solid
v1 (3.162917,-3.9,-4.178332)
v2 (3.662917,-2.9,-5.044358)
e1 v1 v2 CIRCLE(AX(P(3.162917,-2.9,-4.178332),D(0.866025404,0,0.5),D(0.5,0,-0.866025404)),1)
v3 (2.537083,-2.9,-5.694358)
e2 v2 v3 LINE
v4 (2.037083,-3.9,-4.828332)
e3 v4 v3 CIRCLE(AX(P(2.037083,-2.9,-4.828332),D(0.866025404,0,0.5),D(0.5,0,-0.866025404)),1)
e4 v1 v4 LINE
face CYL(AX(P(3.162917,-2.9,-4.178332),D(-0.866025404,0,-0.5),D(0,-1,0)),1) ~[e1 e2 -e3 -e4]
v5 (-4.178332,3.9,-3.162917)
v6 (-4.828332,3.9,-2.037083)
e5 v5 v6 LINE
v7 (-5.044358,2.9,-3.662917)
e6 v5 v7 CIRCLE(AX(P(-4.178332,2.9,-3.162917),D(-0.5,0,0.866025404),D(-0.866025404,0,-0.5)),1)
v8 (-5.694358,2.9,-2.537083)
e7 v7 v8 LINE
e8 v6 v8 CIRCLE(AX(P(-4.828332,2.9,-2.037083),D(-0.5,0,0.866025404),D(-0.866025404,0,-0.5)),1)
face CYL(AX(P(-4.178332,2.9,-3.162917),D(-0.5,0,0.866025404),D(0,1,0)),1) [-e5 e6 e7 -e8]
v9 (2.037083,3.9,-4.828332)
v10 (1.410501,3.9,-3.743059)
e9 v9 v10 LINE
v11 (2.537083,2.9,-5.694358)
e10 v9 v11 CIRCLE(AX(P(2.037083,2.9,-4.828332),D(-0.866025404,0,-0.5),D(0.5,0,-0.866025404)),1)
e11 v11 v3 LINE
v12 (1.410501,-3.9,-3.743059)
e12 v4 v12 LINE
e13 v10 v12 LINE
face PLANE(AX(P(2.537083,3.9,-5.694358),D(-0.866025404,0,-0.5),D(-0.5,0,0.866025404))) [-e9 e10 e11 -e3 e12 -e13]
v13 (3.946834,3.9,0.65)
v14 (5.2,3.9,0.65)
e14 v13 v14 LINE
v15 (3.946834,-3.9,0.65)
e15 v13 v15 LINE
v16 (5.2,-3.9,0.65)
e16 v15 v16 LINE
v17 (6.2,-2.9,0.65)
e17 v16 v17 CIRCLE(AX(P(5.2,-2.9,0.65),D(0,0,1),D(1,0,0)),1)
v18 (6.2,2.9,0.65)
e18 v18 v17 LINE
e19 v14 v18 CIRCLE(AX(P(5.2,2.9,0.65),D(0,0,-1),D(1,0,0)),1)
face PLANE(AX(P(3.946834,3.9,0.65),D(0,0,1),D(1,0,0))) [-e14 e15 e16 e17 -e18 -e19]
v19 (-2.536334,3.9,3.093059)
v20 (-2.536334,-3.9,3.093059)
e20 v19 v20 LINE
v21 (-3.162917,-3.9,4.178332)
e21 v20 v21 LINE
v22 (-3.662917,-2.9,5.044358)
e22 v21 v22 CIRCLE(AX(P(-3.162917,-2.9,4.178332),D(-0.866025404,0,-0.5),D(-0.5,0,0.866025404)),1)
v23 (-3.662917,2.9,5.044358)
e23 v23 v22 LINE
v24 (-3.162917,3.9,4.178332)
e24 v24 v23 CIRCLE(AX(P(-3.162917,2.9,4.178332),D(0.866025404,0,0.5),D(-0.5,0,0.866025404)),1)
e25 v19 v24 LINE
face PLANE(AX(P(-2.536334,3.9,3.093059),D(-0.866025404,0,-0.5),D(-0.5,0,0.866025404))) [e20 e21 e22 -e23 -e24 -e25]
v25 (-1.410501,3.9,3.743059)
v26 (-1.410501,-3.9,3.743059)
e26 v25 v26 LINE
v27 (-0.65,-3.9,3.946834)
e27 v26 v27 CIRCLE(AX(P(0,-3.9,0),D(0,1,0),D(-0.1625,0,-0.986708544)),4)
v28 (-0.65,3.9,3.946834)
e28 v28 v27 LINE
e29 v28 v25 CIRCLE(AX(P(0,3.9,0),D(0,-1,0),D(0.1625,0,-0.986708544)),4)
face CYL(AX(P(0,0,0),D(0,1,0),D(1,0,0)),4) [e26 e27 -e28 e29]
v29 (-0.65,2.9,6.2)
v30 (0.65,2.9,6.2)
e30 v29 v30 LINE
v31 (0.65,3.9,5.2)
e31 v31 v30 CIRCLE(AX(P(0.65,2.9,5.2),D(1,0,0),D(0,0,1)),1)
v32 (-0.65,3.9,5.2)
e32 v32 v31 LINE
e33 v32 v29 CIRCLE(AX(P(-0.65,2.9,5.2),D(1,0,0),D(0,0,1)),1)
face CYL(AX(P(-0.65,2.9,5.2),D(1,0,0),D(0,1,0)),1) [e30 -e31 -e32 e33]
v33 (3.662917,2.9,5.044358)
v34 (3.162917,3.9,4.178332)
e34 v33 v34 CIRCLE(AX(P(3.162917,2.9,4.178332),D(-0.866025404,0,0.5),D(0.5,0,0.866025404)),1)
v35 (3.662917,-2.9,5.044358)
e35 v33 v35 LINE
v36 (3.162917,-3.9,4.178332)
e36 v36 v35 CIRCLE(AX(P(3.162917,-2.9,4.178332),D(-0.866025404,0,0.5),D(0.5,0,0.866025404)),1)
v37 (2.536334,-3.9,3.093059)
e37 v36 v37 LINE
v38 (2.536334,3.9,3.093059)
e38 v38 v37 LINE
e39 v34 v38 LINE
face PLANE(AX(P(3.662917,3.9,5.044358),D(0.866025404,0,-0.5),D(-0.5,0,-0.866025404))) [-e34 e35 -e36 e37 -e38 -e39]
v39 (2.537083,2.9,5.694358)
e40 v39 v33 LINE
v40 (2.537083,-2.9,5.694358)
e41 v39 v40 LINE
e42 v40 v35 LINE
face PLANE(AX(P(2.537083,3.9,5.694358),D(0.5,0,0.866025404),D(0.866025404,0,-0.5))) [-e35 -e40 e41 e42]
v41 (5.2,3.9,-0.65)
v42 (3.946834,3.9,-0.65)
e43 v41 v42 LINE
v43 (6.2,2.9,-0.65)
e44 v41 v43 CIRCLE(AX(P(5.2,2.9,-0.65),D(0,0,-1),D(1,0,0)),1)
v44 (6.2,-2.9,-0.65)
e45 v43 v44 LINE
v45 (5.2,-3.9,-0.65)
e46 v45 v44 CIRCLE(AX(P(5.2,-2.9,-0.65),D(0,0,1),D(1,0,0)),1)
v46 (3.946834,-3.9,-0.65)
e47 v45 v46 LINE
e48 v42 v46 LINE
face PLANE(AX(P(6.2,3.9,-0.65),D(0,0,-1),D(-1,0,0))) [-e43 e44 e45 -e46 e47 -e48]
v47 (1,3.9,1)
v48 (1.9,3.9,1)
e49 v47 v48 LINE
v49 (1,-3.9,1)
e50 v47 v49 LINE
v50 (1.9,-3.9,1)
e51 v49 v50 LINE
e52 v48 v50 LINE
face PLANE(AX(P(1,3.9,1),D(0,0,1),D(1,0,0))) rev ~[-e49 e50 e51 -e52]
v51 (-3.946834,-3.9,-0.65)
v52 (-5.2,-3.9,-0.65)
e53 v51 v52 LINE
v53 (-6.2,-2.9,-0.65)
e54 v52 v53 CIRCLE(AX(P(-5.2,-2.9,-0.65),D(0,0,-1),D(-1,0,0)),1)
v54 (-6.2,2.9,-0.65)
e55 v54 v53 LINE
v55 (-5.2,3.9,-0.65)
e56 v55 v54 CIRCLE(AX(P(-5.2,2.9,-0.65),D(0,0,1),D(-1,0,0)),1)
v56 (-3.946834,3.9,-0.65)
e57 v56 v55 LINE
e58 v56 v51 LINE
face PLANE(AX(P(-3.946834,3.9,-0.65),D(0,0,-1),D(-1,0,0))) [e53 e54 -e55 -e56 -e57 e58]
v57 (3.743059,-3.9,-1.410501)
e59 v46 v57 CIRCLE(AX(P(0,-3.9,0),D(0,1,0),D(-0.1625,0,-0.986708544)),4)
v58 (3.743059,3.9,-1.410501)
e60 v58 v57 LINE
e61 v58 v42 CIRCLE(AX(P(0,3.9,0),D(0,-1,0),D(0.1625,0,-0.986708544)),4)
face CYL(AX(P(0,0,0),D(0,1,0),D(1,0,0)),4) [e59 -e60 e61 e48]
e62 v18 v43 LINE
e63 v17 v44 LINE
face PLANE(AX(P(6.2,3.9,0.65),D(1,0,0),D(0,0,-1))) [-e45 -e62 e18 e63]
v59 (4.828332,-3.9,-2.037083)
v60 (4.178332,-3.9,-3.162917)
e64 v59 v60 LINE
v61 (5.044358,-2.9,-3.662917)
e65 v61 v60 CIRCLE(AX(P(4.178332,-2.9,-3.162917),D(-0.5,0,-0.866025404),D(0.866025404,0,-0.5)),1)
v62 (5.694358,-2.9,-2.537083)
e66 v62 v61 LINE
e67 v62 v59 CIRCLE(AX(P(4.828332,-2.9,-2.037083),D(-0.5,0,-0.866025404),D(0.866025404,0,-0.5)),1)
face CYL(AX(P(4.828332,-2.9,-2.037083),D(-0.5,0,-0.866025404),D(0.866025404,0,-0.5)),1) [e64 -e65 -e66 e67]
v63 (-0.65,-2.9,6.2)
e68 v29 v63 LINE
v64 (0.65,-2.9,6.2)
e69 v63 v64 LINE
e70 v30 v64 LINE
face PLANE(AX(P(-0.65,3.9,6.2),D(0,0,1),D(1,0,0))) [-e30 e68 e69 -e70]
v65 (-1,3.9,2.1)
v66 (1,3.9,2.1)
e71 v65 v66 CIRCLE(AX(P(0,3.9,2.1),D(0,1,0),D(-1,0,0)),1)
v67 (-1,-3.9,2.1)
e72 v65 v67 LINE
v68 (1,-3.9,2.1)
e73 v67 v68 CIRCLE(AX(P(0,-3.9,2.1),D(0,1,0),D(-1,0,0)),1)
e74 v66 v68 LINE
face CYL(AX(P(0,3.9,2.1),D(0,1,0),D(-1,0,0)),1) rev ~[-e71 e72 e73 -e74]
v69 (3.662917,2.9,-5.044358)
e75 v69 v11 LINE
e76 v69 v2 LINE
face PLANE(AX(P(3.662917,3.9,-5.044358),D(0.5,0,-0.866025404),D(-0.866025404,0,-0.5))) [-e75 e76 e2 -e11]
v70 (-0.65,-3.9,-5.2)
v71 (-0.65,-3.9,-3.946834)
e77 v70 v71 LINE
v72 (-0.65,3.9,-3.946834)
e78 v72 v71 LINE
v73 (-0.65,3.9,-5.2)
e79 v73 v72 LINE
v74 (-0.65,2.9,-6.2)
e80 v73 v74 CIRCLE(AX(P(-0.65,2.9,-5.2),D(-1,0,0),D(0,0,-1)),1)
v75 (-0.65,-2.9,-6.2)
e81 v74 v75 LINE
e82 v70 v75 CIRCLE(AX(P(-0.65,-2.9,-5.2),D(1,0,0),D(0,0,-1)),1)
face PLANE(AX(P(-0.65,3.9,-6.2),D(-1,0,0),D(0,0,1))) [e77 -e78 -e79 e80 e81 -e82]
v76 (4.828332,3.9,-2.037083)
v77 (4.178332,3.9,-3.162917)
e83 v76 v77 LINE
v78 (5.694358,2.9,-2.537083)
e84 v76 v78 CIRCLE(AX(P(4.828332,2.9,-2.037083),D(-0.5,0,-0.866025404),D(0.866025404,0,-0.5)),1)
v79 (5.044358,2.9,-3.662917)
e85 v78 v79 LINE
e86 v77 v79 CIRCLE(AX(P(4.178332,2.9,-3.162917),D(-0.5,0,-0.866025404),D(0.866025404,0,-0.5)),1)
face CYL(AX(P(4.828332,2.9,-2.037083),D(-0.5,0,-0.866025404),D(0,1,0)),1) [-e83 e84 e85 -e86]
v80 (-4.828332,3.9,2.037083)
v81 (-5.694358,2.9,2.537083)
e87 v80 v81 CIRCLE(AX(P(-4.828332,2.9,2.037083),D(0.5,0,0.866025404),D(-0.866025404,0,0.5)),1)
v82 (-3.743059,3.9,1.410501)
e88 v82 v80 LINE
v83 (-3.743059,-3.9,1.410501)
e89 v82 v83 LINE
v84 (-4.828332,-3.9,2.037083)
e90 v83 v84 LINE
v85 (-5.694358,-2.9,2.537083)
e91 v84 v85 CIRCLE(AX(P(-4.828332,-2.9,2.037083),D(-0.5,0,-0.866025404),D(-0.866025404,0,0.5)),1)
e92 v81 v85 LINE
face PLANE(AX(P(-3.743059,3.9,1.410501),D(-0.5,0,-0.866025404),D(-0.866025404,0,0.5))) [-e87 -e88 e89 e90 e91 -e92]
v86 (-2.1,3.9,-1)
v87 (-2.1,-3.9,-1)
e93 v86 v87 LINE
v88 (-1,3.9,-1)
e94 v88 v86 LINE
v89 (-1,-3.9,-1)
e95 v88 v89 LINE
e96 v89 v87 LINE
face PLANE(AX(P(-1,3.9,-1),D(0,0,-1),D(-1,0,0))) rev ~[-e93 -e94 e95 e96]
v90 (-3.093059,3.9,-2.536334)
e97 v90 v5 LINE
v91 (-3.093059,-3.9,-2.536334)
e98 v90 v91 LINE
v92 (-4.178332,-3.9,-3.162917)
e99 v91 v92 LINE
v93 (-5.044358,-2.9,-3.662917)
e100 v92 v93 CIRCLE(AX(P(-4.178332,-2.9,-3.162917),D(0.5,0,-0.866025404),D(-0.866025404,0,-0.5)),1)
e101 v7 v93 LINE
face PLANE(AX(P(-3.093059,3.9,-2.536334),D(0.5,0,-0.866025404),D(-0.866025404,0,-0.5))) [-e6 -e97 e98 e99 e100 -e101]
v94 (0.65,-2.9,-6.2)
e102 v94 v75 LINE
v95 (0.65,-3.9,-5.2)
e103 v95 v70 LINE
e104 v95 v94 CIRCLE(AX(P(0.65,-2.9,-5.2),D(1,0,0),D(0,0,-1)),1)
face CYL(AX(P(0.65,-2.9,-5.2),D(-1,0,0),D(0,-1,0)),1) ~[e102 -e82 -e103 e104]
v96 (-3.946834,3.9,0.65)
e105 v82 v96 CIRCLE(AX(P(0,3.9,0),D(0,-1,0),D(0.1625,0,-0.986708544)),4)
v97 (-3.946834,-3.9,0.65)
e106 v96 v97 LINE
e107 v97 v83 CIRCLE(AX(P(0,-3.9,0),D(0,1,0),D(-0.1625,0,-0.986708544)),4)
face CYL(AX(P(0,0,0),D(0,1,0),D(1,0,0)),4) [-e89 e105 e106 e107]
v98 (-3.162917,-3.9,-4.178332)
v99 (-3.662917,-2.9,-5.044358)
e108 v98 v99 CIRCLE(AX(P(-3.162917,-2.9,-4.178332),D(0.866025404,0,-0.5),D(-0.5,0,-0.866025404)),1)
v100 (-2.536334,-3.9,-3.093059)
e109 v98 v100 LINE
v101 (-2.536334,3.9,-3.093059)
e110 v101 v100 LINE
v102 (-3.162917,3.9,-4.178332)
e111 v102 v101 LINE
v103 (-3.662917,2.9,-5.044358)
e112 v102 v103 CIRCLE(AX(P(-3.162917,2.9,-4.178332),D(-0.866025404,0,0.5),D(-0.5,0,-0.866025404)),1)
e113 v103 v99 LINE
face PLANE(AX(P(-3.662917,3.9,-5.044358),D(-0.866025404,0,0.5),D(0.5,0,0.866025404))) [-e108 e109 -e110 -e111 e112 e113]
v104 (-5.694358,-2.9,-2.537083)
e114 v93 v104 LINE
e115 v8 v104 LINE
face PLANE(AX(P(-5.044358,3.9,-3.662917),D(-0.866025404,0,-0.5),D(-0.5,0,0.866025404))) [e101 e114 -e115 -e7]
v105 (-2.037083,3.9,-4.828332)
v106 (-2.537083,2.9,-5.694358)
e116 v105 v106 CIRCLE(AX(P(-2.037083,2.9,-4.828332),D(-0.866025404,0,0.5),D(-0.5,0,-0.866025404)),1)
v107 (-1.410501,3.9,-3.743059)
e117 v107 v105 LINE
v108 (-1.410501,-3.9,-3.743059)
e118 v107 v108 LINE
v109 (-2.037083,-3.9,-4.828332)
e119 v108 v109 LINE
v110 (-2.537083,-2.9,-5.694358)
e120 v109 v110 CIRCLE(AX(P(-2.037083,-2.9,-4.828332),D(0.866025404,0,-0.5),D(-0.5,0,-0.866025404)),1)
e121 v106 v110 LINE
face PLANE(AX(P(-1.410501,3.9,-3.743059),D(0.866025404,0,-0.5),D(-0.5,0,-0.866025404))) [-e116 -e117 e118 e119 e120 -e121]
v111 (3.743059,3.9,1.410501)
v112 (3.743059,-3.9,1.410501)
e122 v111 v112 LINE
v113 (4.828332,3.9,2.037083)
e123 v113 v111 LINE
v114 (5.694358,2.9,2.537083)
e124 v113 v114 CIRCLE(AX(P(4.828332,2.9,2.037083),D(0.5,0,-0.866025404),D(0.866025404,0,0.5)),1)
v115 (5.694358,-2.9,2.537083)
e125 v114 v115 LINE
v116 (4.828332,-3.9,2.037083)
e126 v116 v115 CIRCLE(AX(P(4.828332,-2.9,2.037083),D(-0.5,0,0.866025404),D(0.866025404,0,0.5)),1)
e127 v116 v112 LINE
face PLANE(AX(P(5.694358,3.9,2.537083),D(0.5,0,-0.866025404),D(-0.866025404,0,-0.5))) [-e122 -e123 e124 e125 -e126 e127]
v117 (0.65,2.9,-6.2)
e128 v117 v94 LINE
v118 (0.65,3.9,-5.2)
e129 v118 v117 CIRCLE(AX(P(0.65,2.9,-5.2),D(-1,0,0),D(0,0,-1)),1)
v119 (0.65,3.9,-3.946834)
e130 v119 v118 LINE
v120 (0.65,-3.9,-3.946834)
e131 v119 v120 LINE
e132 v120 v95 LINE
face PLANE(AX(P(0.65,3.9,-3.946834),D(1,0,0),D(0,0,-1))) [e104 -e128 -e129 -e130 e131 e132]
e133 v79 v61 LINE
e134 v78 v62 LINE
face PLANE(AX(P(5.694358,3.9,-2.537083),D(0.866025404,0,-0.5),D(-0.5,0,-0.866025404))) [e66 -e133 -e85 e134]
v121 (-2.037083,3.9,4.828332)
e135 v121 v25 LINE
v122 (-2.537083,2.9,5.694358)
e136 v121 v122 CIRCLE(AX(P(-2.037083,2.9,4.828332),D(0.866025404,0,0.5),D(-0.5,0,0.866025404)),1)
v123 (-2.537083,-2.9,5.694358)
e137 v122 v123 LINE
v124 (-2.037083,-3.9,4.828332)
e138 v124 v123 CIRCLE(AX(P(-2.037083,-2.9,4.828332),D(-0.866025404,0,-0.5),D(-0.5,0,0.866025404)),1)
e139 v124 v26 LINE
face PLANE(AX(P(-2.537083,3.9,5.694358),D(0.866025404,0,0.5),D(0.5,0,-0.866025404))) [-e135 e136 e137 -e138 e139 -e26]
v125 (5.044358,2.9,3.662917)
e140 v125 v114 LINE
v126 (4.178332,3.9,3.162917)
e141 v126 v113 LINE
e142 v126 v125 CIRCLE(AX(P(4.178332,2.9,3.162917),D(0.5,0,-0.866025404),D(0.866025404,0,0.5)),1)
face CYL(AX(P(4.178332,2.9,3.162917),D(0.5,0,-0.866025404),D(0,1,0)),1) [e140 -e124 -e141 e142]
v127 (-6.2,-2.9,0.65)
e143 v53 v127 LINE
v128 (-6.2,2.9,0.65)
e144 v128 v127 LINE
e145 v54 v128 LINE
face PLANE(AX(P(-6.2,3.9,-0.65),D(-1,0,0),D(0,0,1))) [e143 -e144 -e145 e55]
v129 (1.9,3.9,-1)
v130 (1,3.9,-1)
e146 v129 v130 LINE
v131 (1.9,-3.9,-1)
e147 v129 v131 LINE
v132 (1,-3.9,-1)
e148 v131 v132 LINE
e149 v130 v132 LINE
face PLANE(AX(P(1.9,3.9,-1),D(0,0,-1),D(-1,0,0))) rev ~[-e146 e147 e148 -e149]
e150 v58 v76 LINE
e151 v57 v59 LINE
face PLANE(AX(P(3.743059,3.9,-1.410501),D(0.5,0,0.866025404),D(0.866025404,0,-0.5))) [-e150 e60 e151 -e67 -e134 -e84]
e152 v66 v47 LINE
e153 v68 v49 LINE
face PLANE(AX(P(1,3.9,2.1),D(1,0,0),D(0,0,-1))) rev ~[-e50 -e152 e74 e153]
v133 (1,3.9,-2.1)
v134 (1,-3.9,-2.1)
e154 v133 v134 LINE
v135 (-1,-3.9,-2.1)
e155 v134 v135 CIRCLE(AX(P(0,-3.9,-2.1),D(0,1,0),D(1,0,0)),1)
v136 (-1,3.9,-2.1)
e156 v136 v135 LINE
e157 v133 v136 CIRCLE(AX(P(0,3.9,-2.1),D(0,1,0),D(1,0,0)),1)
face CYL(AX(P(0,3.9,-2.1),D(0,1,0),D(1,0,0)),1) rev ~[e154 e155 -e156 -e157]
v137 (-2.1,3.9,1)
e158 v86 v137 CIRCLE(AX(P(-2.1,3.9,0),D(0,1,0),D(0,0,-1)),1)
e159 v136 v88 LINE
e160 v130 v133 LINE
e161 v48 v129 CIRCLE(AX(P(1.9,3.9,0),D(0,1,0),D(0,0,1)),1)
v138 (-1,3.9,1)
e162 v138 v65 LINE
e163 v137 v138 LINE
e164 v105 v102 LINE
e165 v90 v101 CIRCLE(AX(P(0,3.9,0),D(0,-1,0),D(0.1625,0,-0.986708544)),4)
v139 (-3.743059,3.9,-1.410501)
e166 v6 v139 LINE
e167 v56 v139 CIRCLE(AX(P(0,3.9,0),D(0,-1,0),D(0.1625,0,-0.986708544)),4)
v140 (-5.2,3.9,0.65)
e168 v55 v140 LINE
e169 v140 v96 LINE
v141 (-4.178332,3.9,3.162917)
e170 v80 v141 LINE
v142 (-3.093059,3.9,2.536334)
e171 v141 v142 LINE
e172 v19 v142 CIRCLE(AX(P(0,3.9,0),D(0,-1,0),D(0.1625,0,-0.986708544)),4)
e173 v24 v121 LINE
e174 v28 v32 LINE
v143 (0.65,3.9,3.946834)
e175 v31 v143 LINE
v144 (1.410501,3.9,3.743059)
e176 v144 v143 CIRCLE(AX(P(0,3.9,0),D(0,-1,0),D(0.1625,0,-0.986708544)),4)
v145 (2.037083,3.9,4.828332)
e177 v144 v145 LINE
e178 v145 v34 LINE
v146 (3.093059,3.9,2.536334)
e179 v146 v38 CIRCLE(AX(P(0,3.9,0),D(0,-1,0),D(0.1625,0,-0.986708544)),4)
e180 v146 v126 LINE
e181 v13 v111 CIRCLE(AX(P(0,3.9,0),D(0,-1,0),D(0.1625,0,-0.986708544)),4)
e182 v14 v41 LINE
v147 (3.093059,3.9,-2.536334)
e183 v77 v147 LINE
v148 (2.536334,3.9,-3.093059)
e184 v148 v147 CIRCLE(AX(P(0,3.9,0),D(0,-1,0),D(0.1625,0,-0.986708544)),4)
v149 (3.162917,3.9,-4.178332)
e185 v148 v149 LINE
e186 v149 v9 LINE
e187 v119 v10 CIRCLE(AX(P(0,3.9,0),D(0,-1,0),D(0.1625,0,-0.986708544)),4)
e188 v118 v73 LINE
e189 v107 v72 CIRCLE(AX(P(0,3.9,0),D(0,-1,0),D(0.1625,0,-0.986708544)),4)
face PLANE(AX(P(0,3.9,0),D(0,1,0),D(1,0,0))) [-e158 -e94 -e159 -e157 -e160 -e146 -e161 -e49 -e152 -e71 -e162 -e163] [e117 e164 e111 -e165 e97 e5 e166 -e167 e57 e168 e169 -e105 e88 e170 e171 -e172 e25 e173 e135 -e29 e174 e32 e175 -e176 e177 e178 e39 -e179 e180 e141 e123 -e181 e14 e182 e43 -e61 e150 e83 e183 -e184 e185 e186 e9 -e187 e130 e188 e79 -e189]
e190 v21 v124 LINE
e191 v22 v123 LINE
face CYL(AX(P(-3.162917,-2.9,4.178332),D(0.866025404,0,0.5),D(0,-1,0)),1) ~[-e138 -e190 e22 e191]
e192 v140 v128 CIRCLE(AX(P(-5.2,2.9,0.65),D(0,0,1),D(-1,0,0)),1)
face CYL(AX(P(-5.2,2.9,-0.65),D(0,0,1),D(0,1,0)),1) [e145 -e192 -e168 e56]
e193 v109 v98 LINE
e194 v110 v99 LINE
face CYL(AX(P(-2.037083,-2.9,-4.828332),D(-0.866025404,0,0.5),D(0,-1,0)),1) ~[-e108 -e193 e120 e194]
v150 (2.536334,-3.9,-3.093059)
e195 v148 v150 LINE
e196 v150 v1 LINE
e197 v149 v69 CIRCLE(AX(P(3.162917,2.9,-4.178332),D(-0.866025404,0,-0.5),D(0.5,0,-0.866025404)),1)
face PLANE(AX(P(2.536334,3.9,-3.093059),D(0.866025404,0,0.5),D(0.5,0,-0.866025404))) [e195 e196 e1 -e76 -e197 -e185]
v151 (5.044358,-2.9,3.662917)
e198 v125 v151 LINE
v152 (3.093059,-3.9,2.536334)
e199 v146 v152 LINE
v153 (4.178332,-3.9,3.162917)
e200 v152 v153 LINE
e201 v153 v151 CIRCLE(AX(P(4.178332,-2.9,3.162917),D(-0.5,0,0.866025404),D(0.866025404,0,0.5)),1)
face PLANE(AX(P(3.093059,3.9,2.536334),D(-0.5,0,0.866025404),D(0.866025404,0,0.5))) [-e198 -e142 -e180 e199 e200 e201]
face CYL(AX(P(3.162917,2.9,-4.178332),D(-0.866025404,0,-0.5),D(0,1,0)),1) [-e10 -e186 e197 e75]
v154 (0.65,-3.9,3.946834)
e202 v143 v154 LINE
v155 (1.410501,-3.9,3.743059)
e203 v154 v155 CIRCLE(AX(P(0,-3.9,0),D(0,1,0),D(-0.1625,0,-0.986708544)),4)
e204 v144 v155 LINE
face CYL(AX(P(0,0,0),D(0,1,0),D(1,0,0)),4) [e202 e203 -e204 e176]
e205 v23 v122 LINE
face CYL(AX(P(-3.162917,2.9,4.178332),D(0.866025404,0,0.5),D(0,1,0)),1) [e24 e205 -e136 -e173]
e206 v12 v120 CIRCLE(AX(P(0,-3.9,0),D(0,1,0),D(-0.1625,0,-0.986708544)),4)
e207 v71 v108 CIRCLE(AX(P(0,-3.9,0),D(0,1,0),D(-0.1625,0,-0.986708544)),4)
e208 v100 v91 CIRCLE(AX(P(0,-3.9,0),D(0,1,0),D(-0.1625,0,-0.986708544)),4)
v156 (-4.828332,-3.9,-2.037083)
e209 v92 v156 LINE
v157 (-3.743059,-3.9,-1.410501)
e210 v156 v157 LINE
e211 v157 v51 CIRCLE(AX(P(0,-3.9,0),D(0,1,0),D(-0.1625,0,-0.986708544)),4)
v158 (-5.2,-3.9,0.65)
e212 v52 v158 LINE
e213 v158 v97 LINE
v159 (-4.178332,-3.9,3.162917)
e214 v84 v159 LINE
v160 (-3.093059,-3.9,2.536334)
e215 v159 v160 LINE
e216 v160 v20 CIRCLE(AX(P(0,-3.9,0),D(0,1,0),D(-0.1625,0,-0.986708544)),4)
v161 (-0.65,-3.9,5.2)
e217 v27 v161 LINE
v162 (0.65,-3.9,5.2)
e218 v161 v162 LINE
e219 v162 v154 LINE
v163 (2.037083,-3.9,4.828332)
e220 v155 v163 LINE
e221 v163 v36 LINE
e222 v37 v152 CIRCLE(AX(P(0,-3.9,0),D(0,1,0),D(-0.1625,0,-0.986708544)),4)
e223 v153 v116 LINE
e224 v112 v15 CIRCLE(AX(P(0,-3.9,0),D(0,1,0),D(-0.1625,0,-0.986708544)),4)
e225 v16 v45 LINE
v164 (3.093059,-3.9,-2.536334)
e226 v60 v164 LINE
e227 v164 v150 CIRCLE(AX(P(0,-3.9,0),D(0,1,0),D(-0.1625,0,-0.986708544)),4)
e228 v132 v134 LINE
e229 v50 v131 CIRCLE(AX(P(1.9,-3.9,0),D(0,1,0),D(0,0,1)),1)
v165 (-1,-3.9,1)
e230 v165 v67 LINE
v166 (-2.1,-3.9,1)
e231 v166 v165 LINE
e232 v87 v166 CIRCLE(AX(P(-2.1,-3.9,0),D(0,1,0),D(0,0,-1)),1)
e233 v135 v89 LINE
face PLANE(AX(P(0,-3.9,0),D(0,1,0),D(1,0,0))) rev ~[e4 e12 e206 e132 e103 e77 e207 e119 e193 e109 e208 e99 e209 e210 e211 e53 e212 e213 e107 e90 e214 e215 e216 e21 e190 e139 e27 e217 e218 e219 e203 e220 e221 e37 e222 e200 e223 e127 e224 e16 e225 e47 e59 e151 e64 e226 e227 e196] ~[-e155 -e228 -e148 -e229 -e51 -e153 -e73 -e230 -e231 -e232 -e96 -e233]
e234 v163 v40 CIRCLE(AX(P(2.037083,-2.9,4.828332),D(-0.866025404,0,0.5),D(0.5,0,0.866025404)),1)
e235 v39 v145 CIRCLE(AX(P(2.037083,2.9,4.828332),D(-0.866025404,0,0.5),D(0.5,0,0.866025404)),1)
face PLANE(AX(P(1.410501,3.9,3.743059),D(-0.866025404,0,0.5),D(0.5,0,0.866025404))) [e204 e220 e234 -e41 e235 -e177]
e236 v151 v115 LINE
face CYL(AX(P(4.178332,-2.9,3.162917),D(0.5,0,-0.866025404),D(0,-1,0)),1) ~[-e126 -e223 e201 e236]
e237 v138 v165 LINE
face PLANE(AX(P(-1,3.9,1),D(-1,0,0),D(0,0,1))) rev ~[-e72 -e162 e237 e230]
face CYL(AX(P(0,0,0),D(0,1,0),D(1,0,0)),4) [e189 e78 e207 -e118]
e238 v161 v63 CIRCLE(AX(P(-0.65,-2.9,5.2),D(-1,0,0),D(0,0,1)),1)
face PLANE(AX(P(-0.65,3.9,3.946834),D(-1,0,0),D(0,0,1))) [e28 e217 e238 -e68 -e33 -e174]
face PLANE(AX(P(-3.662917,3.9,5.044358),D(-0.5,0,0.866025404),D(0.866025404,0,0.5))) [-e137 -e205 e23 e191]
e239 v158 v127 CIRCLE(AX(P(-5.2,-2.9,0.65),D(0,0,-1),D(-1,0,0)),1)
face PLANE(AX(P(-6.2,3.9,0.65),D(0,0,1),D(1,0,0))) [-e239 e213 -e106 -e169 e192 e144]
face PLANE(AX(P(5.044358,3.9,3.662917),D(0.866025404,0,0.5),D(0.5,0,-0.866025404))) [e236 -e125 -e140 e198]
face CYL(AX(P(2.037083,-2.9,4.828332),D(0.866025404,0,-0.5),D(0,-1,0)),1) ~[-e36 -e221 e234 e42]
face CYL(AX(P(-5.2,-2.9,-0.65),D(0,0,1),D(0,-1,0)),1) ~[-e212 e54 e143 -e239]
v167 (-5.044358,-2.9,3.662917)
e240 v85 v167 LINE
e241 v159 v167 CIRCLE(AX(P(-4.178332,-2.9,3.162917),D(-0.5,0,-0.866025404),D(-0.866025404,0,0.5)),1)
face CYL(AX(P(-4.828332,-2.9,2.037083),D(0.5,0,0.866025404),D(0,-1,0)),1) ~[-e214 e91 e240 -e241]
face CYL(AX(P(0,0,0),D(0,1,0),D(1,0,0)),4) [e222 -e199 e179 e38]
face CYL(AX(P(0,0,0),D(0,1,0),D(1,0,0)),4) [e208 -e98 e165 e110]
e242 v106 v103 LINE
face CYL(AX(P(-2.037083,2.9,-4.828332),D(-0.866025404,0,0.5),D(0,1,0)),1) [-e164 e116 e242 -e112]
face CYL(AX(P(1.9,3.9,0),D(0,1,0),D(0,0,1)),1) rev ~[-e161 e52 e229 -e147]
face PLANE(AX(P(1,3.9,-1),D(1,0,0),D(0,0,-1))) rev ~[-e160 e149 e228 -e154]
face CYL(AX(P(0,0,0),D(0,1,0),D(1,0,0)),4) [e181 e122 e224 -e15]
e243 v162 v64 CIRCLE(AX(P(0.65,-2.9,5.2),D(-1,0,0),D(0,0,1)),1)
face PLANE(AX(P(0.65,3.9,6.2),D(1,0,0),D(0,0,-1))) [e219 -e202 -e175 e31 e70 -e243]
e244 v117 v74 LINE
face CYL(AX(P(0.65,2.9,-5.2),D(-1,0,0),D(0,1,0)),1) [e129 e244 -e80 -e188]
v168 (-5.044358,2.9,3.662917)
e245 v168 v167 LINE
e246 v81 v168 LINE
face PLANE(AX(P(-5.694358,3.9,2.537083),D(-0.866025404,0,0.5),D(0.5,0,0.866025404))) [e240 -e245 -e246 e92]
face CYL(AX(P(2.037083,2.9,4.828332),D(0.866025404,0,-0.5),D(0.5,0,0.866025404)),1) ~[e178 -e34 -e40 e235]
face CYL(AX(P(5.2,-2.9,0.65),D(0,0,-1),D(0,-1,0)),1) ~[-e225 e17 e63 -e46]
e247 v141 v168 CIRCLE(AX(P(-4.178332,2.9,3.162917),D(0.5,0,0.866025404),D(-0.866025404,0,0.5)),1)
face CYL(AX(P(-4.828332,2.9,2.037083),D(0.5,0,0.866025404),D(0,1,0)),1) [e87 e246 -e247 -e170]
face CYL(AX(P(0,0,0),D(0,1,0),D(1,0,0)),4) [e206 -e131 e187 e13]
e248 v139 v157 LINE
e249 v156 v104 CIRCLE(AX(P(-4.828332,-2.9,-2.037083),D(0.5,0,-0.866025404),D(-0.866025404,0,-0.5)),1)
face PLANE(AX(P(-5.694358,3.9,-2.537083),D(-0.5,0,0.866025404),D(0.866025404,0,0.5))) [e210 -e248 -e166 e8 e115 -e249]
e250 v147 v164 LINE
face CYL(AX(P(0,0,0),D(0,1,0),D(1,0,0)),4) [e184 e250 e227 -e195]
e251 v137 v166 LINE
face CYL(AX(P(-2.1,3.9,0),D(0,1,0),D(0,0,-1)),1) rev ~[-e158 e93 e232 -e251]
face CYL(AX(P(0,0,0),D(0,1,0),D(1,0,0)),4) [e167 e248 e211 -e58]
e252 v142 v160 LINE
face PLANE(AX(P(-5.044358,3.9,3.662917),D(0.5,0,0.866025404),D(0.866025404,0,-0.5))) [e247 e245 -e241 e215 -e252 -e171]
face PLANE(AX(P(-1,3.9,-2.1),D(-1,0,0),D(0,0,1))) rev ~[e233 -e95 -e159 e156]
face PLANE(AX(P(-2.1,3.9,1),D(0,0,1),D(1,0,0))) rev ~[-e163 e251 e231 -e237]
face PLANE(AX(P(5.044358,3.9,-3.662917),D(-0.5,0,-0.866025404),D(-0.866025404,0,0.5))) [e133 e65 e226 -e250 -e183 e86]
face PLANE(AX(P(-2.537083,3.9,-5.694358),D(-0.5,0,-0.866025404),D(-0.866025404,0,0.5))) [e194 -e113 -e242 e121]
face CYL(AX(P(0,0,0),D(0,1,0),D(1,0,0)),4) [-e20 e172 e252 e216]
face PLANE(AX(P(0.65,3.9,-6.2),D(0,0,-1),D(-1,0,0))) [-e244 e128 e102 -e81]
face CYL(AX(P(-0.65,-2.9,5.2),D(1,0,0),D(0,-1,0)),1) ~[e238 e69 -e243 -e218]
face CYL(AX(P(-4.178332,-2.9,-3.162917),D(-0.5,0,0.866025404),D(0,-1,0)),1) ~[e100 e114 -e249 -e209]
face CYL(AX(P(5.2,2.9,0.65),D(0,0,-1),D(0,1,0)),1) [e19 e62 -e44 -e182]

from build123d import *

# Parameters (mm, degrees)
SKETCH1_R           = 4
BOSS_EXTRUDE1_DEPTH = 3.9
BOSS_EXTRUDE2_DEPTH = 7.8
CIRPATTERN1_COUNT   = 12
SKETCH7_W           = 2
SKETCH7_H           = 2
CUT_EXTRUDE2_DEPTH  = 8.8
FILLET4_R           = 1
FILLET5_R           = 1
FILLET6_R           = 1
FILLET7_R           = 1
FILLET8_R           = 1
FILLET9_R           = 1
FILLET10_R          = 1
FILLET11_R          = 1
FILLET12_R          = 1
FILLET13_R          = 1
FILLET14_R          = 1
FILLET15_R          = 1
FILLET16_R          = 1
FILLET17_R          = 1
FILLET18_R          = 1
FILLET19_R          = 1
FILLET20_R          = 1
FILLET21_R          = 1
FILLET22_R          = 1
FILLET23_R          = 1
FILLET24_R          = 1
FILLET25_R          = 1
FILLET26_R          = 1
FILLET27_R          = 1


with BuildPart() as part:
    # Sketch1 → Boss-Extrude1 (new body, symmetric)
    with BuildSketch(Plane(origin=(0, 0, 0), x_dir=(1, 0, 0), z_dir=(0, 1, 0))):
        Circle(SKETCH1_R)
    extrude(amount=BOSS_EXTRUDE1_DEPTH, both=True)

    # Sketch5 → Boss-Extrude2 (add)
    with BuildSketch(Plane(origin=(0, 3.9, 0), x_dir=(1, 0, 0), z_dir=(0, 1, 0))):
        with BuildLine():
            ThreePointArc((-0.65, 3.946834174), (-0.326085344, 3.986686387), (0, 4))
            Line((0, 4), (0, 6.2))
            Line((0, 6.2), (-0.65, 6.2))
            Line((-0.65, 6.2), (-0.65, 3.946834174))
        make_face()
        with BuildLine():
            Line((0, 6.2), (0, 4))
            ThreePointArc((0, 4), (0.326085344, 3.986686387), (0.65, 3.946834174))
            Line((0.65, 3.946834174), (0.65, 6.2))
            Line((0.65, 6.2), (0, 6.2))
        make_face()
    boss_extrude2 = extrude(amount=-BOSS_EXTRUDE2_DEPTH)

    # CirPattern1: Boss-Extrude2 ×12 about axis
    cirpattern1_axis = Axis((0, 0, 0), (0, 1, 0))
    for i in range(1, CIRPATTERN1_COUNT):
        add(boss_extrude2.rotate(cirpattern1_axis, i * 360 / CIRPATTERN1_COUNT))

    # Sketch7 → Cut-Extrude2 (cut, through all)
    with BuildSketch(Plane(origin=(0, 3.9, 0), x_dir=(1, 0, 0), z_dir=(0, 1, 0))):
        with BuildLine():
            Line((1, 1), (1, 2.1))
            ThreePointArc((1, 2.1), (0, 3.1), (-1, 2.1))
            Line((-1, 2.1), (-1, 1))
            Line((-1, 1), (1, 1))
        make_face()
        Rectangle(SKETCH7_W, SKETCH7_H)
        with BuildLine():
            Line((1.9, 1), (1, 1))
            Line((1, 1), (1, -1))
            Line((1, -1), (1.9, -1))
            ThreePointArc((1.9, -1), (2.9, 0), (1.9, 1))
        make_face()
        with BuildLine():
            Line((1, -2.1), (1, -1))
            Line((1, -1), (-1, -1))
            Line((-1, -1), (-1, -2.1))
            ThreePointArc((-1, -2.1), (0, -3.1), (1, -2.1))
        make_face()
        with BuildLine():
            Line((-1, -1), (-1, 1))
            Line((-1, 1), (-2.1, 1))
            ThreePointArc((-2.1, 1), (-3.1, 0), (-2.1, -1))
            Line((-2.1, -1), (-1, -1))
        make_face()
    extrude(amount=-CUT_EXTRUDE2_DEPTH, mode=Mode.SUBTRACT)

    # Fillet4
    fillet4_edges = [part.edges().sort_by_distance(p)[0] for p in [
        (3.1, 3.9, -5.369357503),
    ]]
    fillet(fillet4_edges, radius=FILLET4_R)

    # Fillet5
    fillet5_edges = [part.edges().sort_by_distance(p)[0] for p in [
        (5.369357503, 3.9, 3.1),
    ]]
    fillet(fillet5_edges, radius=FILLET5_R)

    # Fillet6
    fillet6_edges = [part.edges().sort_by_distance(p)[0] for p in [
        (6.2, 3.9, 0),
    ]]
    fillet(fillet6_edges, radius=FILLET6_R)

    # Fillet7
    fillet7_edges = [part.edges().sort_by_distance(p)[0] for p in [
        (5.369357503, -3.9, -3.1),
    ]]
    fillet(fillet7_edges, radius=FILLET7_R)

    # Fillet8
    fillet8_edges = [part.edges().sort_by_distance(p)[0] for p in [
        (3.1, -3.9, 5.369357503),
    ]]
    fillet(fillet8_edges, radius=FILLET8_R)

    # Fillet9
    fillet9_edges = [part.edges().sort_by_distance(p)[0] for p in [
        (3.1, 3.9, 5.369357503),
    ]]
    fillet(fillet9_edges, radius=FILLET9_R)

    # Fillet10
    fillet10_edges = [part.edges().sort_by_distance(p)[0] for p in [
        (0, 3.9, 6.2),
    ]]
    fillet(fillet10_edges, radius=FILLET10_R)

    # Fillet11
    fillet11_edges = [part.edges().sort_by_distance(p)[0] for p in [
        (-3.1, 3.9, 5.369357503),
    ]]
    fillet(fillet11_edges, radius=FILLET11_R)

    # Fillet12
    fillet12_edges = [part.edges().sort_by_distance(p)[0] for p in [
        (-5.369357503, 3.9, 3.1),
    ]]
    fillet(fillet12_edges, radius=FILLET12_R)

    # Fillet13
    fillet13_edges = [part.edges().sort_by_distance(p)[0] for p in [
        (-6.2, 3.9, 0),
    ]]
    fillet(fillet13_edges, radius=FILLET13_R)

    # Fillet14
    fillet14_edges = [part.edges().sort_by_distance(p)[0] for p in [
        (-3.1, 3.9, -5.369357503),
    ]]
    fillet(fillet14_edges, radius=FILLET14_R)

    # Fillet15
    fillet15_edges = [part.edges().sort_by_distance(p)[0] for p in [
        (-5.369357503, 3.9, -3.1),
    ]]
    fillet(fillet15_edges, radius=FILLET15_R)

    # Fillet16
    fillet16_edges = [part.edges().sort_by_distance(p)[0] for p in [
        (0, 3.9, -6.2),
    ]]
    fillet(fillet16_edges, radius=FILLET16_R)

    # Fillet17
    fillet17_edges = [part.edges().sort_by_distance(p)[0] for p in [
        (5.369357503, 3.9, -3.1),
    ]]
    fillet(fillet17_edges, radius=FILLET17_R)

    # Fillet18
    fillet18_edges = [part.edges().sort_by_distance(p)[0] for p in [
        (-6.2, -3.9, 0),
    ]]
    fillet(fillet18_edges, radius=FILLET18_R)

    # Fillet19
    fillet19_edges = [part.edges().sort_by_distance(p)[0] for p in [
        (-5.369357503, -3.9, 3.1),
    ]]
    fillet(fillet19_edges, radius=FILLET19_R)

    # Fillet20
    fillet20_edges = [part.edges().sort_by_distance(p)[0] for p in [
        (-3.1, -3.9, 5.369357503),
    ]]
    fillet(fillet20_edges, radius=FILLET20_R)

    # Fillet21
    fillet21_edges = [part.edges().sort_by_distance(p)[0] for p in [
        (0, -3.9, 6.2),
    ]]
    fillet(fillet21_edges, radius=FILLET21_R)

    # Fillet22
    fillet22_edges = [part.edges().sort_by_distance(p)[0] for p in [
        (5.369357503, -3.9, 3.1),
    ]]
    fillet(fillet22_edges, radius=FILLET22_R)

    # Fillet23
    fillet23_edges = [part.edges().sort_by_distance(p)[0] for p in [
        (6.2, -3.9, 0),
    ]]
    fillet(fillet23_edges, radius=FILLET23_R)

    # Fillet24
    fillet24_edges = [part.edges().sort_by_distance(p)[0] for p in [
        (0, -3.9, -6.2),
    ]]
    fillet(fillet24_edges, radius=FILLET24_R)

    # Fillet25
    fillet25_edges = [part.edges().sort_by_distance(p)[0] for p in [
        (-3.1, -3.9, -5.369357503),
    ]]
    fillet(fillet25_edges, radius=FILLET25_R)

    # Fillet26
    fillet26_edges = [part.edges().sort_by_distance(p)[0] for p in [
        (3.1, -3.9, -5.369357503),
    ]]
    fillet(fillet26_edges, radius=FILLET26_R)

    # Fillet27
    fillet27_edges = [part.edges().sort_by_distance(p)[0] for p in [
        (-5.369357503, -3.9, -3.1),
    ]]
    fillet(fillet27_edges, radius=FILLET27_R)


solid = part.part
